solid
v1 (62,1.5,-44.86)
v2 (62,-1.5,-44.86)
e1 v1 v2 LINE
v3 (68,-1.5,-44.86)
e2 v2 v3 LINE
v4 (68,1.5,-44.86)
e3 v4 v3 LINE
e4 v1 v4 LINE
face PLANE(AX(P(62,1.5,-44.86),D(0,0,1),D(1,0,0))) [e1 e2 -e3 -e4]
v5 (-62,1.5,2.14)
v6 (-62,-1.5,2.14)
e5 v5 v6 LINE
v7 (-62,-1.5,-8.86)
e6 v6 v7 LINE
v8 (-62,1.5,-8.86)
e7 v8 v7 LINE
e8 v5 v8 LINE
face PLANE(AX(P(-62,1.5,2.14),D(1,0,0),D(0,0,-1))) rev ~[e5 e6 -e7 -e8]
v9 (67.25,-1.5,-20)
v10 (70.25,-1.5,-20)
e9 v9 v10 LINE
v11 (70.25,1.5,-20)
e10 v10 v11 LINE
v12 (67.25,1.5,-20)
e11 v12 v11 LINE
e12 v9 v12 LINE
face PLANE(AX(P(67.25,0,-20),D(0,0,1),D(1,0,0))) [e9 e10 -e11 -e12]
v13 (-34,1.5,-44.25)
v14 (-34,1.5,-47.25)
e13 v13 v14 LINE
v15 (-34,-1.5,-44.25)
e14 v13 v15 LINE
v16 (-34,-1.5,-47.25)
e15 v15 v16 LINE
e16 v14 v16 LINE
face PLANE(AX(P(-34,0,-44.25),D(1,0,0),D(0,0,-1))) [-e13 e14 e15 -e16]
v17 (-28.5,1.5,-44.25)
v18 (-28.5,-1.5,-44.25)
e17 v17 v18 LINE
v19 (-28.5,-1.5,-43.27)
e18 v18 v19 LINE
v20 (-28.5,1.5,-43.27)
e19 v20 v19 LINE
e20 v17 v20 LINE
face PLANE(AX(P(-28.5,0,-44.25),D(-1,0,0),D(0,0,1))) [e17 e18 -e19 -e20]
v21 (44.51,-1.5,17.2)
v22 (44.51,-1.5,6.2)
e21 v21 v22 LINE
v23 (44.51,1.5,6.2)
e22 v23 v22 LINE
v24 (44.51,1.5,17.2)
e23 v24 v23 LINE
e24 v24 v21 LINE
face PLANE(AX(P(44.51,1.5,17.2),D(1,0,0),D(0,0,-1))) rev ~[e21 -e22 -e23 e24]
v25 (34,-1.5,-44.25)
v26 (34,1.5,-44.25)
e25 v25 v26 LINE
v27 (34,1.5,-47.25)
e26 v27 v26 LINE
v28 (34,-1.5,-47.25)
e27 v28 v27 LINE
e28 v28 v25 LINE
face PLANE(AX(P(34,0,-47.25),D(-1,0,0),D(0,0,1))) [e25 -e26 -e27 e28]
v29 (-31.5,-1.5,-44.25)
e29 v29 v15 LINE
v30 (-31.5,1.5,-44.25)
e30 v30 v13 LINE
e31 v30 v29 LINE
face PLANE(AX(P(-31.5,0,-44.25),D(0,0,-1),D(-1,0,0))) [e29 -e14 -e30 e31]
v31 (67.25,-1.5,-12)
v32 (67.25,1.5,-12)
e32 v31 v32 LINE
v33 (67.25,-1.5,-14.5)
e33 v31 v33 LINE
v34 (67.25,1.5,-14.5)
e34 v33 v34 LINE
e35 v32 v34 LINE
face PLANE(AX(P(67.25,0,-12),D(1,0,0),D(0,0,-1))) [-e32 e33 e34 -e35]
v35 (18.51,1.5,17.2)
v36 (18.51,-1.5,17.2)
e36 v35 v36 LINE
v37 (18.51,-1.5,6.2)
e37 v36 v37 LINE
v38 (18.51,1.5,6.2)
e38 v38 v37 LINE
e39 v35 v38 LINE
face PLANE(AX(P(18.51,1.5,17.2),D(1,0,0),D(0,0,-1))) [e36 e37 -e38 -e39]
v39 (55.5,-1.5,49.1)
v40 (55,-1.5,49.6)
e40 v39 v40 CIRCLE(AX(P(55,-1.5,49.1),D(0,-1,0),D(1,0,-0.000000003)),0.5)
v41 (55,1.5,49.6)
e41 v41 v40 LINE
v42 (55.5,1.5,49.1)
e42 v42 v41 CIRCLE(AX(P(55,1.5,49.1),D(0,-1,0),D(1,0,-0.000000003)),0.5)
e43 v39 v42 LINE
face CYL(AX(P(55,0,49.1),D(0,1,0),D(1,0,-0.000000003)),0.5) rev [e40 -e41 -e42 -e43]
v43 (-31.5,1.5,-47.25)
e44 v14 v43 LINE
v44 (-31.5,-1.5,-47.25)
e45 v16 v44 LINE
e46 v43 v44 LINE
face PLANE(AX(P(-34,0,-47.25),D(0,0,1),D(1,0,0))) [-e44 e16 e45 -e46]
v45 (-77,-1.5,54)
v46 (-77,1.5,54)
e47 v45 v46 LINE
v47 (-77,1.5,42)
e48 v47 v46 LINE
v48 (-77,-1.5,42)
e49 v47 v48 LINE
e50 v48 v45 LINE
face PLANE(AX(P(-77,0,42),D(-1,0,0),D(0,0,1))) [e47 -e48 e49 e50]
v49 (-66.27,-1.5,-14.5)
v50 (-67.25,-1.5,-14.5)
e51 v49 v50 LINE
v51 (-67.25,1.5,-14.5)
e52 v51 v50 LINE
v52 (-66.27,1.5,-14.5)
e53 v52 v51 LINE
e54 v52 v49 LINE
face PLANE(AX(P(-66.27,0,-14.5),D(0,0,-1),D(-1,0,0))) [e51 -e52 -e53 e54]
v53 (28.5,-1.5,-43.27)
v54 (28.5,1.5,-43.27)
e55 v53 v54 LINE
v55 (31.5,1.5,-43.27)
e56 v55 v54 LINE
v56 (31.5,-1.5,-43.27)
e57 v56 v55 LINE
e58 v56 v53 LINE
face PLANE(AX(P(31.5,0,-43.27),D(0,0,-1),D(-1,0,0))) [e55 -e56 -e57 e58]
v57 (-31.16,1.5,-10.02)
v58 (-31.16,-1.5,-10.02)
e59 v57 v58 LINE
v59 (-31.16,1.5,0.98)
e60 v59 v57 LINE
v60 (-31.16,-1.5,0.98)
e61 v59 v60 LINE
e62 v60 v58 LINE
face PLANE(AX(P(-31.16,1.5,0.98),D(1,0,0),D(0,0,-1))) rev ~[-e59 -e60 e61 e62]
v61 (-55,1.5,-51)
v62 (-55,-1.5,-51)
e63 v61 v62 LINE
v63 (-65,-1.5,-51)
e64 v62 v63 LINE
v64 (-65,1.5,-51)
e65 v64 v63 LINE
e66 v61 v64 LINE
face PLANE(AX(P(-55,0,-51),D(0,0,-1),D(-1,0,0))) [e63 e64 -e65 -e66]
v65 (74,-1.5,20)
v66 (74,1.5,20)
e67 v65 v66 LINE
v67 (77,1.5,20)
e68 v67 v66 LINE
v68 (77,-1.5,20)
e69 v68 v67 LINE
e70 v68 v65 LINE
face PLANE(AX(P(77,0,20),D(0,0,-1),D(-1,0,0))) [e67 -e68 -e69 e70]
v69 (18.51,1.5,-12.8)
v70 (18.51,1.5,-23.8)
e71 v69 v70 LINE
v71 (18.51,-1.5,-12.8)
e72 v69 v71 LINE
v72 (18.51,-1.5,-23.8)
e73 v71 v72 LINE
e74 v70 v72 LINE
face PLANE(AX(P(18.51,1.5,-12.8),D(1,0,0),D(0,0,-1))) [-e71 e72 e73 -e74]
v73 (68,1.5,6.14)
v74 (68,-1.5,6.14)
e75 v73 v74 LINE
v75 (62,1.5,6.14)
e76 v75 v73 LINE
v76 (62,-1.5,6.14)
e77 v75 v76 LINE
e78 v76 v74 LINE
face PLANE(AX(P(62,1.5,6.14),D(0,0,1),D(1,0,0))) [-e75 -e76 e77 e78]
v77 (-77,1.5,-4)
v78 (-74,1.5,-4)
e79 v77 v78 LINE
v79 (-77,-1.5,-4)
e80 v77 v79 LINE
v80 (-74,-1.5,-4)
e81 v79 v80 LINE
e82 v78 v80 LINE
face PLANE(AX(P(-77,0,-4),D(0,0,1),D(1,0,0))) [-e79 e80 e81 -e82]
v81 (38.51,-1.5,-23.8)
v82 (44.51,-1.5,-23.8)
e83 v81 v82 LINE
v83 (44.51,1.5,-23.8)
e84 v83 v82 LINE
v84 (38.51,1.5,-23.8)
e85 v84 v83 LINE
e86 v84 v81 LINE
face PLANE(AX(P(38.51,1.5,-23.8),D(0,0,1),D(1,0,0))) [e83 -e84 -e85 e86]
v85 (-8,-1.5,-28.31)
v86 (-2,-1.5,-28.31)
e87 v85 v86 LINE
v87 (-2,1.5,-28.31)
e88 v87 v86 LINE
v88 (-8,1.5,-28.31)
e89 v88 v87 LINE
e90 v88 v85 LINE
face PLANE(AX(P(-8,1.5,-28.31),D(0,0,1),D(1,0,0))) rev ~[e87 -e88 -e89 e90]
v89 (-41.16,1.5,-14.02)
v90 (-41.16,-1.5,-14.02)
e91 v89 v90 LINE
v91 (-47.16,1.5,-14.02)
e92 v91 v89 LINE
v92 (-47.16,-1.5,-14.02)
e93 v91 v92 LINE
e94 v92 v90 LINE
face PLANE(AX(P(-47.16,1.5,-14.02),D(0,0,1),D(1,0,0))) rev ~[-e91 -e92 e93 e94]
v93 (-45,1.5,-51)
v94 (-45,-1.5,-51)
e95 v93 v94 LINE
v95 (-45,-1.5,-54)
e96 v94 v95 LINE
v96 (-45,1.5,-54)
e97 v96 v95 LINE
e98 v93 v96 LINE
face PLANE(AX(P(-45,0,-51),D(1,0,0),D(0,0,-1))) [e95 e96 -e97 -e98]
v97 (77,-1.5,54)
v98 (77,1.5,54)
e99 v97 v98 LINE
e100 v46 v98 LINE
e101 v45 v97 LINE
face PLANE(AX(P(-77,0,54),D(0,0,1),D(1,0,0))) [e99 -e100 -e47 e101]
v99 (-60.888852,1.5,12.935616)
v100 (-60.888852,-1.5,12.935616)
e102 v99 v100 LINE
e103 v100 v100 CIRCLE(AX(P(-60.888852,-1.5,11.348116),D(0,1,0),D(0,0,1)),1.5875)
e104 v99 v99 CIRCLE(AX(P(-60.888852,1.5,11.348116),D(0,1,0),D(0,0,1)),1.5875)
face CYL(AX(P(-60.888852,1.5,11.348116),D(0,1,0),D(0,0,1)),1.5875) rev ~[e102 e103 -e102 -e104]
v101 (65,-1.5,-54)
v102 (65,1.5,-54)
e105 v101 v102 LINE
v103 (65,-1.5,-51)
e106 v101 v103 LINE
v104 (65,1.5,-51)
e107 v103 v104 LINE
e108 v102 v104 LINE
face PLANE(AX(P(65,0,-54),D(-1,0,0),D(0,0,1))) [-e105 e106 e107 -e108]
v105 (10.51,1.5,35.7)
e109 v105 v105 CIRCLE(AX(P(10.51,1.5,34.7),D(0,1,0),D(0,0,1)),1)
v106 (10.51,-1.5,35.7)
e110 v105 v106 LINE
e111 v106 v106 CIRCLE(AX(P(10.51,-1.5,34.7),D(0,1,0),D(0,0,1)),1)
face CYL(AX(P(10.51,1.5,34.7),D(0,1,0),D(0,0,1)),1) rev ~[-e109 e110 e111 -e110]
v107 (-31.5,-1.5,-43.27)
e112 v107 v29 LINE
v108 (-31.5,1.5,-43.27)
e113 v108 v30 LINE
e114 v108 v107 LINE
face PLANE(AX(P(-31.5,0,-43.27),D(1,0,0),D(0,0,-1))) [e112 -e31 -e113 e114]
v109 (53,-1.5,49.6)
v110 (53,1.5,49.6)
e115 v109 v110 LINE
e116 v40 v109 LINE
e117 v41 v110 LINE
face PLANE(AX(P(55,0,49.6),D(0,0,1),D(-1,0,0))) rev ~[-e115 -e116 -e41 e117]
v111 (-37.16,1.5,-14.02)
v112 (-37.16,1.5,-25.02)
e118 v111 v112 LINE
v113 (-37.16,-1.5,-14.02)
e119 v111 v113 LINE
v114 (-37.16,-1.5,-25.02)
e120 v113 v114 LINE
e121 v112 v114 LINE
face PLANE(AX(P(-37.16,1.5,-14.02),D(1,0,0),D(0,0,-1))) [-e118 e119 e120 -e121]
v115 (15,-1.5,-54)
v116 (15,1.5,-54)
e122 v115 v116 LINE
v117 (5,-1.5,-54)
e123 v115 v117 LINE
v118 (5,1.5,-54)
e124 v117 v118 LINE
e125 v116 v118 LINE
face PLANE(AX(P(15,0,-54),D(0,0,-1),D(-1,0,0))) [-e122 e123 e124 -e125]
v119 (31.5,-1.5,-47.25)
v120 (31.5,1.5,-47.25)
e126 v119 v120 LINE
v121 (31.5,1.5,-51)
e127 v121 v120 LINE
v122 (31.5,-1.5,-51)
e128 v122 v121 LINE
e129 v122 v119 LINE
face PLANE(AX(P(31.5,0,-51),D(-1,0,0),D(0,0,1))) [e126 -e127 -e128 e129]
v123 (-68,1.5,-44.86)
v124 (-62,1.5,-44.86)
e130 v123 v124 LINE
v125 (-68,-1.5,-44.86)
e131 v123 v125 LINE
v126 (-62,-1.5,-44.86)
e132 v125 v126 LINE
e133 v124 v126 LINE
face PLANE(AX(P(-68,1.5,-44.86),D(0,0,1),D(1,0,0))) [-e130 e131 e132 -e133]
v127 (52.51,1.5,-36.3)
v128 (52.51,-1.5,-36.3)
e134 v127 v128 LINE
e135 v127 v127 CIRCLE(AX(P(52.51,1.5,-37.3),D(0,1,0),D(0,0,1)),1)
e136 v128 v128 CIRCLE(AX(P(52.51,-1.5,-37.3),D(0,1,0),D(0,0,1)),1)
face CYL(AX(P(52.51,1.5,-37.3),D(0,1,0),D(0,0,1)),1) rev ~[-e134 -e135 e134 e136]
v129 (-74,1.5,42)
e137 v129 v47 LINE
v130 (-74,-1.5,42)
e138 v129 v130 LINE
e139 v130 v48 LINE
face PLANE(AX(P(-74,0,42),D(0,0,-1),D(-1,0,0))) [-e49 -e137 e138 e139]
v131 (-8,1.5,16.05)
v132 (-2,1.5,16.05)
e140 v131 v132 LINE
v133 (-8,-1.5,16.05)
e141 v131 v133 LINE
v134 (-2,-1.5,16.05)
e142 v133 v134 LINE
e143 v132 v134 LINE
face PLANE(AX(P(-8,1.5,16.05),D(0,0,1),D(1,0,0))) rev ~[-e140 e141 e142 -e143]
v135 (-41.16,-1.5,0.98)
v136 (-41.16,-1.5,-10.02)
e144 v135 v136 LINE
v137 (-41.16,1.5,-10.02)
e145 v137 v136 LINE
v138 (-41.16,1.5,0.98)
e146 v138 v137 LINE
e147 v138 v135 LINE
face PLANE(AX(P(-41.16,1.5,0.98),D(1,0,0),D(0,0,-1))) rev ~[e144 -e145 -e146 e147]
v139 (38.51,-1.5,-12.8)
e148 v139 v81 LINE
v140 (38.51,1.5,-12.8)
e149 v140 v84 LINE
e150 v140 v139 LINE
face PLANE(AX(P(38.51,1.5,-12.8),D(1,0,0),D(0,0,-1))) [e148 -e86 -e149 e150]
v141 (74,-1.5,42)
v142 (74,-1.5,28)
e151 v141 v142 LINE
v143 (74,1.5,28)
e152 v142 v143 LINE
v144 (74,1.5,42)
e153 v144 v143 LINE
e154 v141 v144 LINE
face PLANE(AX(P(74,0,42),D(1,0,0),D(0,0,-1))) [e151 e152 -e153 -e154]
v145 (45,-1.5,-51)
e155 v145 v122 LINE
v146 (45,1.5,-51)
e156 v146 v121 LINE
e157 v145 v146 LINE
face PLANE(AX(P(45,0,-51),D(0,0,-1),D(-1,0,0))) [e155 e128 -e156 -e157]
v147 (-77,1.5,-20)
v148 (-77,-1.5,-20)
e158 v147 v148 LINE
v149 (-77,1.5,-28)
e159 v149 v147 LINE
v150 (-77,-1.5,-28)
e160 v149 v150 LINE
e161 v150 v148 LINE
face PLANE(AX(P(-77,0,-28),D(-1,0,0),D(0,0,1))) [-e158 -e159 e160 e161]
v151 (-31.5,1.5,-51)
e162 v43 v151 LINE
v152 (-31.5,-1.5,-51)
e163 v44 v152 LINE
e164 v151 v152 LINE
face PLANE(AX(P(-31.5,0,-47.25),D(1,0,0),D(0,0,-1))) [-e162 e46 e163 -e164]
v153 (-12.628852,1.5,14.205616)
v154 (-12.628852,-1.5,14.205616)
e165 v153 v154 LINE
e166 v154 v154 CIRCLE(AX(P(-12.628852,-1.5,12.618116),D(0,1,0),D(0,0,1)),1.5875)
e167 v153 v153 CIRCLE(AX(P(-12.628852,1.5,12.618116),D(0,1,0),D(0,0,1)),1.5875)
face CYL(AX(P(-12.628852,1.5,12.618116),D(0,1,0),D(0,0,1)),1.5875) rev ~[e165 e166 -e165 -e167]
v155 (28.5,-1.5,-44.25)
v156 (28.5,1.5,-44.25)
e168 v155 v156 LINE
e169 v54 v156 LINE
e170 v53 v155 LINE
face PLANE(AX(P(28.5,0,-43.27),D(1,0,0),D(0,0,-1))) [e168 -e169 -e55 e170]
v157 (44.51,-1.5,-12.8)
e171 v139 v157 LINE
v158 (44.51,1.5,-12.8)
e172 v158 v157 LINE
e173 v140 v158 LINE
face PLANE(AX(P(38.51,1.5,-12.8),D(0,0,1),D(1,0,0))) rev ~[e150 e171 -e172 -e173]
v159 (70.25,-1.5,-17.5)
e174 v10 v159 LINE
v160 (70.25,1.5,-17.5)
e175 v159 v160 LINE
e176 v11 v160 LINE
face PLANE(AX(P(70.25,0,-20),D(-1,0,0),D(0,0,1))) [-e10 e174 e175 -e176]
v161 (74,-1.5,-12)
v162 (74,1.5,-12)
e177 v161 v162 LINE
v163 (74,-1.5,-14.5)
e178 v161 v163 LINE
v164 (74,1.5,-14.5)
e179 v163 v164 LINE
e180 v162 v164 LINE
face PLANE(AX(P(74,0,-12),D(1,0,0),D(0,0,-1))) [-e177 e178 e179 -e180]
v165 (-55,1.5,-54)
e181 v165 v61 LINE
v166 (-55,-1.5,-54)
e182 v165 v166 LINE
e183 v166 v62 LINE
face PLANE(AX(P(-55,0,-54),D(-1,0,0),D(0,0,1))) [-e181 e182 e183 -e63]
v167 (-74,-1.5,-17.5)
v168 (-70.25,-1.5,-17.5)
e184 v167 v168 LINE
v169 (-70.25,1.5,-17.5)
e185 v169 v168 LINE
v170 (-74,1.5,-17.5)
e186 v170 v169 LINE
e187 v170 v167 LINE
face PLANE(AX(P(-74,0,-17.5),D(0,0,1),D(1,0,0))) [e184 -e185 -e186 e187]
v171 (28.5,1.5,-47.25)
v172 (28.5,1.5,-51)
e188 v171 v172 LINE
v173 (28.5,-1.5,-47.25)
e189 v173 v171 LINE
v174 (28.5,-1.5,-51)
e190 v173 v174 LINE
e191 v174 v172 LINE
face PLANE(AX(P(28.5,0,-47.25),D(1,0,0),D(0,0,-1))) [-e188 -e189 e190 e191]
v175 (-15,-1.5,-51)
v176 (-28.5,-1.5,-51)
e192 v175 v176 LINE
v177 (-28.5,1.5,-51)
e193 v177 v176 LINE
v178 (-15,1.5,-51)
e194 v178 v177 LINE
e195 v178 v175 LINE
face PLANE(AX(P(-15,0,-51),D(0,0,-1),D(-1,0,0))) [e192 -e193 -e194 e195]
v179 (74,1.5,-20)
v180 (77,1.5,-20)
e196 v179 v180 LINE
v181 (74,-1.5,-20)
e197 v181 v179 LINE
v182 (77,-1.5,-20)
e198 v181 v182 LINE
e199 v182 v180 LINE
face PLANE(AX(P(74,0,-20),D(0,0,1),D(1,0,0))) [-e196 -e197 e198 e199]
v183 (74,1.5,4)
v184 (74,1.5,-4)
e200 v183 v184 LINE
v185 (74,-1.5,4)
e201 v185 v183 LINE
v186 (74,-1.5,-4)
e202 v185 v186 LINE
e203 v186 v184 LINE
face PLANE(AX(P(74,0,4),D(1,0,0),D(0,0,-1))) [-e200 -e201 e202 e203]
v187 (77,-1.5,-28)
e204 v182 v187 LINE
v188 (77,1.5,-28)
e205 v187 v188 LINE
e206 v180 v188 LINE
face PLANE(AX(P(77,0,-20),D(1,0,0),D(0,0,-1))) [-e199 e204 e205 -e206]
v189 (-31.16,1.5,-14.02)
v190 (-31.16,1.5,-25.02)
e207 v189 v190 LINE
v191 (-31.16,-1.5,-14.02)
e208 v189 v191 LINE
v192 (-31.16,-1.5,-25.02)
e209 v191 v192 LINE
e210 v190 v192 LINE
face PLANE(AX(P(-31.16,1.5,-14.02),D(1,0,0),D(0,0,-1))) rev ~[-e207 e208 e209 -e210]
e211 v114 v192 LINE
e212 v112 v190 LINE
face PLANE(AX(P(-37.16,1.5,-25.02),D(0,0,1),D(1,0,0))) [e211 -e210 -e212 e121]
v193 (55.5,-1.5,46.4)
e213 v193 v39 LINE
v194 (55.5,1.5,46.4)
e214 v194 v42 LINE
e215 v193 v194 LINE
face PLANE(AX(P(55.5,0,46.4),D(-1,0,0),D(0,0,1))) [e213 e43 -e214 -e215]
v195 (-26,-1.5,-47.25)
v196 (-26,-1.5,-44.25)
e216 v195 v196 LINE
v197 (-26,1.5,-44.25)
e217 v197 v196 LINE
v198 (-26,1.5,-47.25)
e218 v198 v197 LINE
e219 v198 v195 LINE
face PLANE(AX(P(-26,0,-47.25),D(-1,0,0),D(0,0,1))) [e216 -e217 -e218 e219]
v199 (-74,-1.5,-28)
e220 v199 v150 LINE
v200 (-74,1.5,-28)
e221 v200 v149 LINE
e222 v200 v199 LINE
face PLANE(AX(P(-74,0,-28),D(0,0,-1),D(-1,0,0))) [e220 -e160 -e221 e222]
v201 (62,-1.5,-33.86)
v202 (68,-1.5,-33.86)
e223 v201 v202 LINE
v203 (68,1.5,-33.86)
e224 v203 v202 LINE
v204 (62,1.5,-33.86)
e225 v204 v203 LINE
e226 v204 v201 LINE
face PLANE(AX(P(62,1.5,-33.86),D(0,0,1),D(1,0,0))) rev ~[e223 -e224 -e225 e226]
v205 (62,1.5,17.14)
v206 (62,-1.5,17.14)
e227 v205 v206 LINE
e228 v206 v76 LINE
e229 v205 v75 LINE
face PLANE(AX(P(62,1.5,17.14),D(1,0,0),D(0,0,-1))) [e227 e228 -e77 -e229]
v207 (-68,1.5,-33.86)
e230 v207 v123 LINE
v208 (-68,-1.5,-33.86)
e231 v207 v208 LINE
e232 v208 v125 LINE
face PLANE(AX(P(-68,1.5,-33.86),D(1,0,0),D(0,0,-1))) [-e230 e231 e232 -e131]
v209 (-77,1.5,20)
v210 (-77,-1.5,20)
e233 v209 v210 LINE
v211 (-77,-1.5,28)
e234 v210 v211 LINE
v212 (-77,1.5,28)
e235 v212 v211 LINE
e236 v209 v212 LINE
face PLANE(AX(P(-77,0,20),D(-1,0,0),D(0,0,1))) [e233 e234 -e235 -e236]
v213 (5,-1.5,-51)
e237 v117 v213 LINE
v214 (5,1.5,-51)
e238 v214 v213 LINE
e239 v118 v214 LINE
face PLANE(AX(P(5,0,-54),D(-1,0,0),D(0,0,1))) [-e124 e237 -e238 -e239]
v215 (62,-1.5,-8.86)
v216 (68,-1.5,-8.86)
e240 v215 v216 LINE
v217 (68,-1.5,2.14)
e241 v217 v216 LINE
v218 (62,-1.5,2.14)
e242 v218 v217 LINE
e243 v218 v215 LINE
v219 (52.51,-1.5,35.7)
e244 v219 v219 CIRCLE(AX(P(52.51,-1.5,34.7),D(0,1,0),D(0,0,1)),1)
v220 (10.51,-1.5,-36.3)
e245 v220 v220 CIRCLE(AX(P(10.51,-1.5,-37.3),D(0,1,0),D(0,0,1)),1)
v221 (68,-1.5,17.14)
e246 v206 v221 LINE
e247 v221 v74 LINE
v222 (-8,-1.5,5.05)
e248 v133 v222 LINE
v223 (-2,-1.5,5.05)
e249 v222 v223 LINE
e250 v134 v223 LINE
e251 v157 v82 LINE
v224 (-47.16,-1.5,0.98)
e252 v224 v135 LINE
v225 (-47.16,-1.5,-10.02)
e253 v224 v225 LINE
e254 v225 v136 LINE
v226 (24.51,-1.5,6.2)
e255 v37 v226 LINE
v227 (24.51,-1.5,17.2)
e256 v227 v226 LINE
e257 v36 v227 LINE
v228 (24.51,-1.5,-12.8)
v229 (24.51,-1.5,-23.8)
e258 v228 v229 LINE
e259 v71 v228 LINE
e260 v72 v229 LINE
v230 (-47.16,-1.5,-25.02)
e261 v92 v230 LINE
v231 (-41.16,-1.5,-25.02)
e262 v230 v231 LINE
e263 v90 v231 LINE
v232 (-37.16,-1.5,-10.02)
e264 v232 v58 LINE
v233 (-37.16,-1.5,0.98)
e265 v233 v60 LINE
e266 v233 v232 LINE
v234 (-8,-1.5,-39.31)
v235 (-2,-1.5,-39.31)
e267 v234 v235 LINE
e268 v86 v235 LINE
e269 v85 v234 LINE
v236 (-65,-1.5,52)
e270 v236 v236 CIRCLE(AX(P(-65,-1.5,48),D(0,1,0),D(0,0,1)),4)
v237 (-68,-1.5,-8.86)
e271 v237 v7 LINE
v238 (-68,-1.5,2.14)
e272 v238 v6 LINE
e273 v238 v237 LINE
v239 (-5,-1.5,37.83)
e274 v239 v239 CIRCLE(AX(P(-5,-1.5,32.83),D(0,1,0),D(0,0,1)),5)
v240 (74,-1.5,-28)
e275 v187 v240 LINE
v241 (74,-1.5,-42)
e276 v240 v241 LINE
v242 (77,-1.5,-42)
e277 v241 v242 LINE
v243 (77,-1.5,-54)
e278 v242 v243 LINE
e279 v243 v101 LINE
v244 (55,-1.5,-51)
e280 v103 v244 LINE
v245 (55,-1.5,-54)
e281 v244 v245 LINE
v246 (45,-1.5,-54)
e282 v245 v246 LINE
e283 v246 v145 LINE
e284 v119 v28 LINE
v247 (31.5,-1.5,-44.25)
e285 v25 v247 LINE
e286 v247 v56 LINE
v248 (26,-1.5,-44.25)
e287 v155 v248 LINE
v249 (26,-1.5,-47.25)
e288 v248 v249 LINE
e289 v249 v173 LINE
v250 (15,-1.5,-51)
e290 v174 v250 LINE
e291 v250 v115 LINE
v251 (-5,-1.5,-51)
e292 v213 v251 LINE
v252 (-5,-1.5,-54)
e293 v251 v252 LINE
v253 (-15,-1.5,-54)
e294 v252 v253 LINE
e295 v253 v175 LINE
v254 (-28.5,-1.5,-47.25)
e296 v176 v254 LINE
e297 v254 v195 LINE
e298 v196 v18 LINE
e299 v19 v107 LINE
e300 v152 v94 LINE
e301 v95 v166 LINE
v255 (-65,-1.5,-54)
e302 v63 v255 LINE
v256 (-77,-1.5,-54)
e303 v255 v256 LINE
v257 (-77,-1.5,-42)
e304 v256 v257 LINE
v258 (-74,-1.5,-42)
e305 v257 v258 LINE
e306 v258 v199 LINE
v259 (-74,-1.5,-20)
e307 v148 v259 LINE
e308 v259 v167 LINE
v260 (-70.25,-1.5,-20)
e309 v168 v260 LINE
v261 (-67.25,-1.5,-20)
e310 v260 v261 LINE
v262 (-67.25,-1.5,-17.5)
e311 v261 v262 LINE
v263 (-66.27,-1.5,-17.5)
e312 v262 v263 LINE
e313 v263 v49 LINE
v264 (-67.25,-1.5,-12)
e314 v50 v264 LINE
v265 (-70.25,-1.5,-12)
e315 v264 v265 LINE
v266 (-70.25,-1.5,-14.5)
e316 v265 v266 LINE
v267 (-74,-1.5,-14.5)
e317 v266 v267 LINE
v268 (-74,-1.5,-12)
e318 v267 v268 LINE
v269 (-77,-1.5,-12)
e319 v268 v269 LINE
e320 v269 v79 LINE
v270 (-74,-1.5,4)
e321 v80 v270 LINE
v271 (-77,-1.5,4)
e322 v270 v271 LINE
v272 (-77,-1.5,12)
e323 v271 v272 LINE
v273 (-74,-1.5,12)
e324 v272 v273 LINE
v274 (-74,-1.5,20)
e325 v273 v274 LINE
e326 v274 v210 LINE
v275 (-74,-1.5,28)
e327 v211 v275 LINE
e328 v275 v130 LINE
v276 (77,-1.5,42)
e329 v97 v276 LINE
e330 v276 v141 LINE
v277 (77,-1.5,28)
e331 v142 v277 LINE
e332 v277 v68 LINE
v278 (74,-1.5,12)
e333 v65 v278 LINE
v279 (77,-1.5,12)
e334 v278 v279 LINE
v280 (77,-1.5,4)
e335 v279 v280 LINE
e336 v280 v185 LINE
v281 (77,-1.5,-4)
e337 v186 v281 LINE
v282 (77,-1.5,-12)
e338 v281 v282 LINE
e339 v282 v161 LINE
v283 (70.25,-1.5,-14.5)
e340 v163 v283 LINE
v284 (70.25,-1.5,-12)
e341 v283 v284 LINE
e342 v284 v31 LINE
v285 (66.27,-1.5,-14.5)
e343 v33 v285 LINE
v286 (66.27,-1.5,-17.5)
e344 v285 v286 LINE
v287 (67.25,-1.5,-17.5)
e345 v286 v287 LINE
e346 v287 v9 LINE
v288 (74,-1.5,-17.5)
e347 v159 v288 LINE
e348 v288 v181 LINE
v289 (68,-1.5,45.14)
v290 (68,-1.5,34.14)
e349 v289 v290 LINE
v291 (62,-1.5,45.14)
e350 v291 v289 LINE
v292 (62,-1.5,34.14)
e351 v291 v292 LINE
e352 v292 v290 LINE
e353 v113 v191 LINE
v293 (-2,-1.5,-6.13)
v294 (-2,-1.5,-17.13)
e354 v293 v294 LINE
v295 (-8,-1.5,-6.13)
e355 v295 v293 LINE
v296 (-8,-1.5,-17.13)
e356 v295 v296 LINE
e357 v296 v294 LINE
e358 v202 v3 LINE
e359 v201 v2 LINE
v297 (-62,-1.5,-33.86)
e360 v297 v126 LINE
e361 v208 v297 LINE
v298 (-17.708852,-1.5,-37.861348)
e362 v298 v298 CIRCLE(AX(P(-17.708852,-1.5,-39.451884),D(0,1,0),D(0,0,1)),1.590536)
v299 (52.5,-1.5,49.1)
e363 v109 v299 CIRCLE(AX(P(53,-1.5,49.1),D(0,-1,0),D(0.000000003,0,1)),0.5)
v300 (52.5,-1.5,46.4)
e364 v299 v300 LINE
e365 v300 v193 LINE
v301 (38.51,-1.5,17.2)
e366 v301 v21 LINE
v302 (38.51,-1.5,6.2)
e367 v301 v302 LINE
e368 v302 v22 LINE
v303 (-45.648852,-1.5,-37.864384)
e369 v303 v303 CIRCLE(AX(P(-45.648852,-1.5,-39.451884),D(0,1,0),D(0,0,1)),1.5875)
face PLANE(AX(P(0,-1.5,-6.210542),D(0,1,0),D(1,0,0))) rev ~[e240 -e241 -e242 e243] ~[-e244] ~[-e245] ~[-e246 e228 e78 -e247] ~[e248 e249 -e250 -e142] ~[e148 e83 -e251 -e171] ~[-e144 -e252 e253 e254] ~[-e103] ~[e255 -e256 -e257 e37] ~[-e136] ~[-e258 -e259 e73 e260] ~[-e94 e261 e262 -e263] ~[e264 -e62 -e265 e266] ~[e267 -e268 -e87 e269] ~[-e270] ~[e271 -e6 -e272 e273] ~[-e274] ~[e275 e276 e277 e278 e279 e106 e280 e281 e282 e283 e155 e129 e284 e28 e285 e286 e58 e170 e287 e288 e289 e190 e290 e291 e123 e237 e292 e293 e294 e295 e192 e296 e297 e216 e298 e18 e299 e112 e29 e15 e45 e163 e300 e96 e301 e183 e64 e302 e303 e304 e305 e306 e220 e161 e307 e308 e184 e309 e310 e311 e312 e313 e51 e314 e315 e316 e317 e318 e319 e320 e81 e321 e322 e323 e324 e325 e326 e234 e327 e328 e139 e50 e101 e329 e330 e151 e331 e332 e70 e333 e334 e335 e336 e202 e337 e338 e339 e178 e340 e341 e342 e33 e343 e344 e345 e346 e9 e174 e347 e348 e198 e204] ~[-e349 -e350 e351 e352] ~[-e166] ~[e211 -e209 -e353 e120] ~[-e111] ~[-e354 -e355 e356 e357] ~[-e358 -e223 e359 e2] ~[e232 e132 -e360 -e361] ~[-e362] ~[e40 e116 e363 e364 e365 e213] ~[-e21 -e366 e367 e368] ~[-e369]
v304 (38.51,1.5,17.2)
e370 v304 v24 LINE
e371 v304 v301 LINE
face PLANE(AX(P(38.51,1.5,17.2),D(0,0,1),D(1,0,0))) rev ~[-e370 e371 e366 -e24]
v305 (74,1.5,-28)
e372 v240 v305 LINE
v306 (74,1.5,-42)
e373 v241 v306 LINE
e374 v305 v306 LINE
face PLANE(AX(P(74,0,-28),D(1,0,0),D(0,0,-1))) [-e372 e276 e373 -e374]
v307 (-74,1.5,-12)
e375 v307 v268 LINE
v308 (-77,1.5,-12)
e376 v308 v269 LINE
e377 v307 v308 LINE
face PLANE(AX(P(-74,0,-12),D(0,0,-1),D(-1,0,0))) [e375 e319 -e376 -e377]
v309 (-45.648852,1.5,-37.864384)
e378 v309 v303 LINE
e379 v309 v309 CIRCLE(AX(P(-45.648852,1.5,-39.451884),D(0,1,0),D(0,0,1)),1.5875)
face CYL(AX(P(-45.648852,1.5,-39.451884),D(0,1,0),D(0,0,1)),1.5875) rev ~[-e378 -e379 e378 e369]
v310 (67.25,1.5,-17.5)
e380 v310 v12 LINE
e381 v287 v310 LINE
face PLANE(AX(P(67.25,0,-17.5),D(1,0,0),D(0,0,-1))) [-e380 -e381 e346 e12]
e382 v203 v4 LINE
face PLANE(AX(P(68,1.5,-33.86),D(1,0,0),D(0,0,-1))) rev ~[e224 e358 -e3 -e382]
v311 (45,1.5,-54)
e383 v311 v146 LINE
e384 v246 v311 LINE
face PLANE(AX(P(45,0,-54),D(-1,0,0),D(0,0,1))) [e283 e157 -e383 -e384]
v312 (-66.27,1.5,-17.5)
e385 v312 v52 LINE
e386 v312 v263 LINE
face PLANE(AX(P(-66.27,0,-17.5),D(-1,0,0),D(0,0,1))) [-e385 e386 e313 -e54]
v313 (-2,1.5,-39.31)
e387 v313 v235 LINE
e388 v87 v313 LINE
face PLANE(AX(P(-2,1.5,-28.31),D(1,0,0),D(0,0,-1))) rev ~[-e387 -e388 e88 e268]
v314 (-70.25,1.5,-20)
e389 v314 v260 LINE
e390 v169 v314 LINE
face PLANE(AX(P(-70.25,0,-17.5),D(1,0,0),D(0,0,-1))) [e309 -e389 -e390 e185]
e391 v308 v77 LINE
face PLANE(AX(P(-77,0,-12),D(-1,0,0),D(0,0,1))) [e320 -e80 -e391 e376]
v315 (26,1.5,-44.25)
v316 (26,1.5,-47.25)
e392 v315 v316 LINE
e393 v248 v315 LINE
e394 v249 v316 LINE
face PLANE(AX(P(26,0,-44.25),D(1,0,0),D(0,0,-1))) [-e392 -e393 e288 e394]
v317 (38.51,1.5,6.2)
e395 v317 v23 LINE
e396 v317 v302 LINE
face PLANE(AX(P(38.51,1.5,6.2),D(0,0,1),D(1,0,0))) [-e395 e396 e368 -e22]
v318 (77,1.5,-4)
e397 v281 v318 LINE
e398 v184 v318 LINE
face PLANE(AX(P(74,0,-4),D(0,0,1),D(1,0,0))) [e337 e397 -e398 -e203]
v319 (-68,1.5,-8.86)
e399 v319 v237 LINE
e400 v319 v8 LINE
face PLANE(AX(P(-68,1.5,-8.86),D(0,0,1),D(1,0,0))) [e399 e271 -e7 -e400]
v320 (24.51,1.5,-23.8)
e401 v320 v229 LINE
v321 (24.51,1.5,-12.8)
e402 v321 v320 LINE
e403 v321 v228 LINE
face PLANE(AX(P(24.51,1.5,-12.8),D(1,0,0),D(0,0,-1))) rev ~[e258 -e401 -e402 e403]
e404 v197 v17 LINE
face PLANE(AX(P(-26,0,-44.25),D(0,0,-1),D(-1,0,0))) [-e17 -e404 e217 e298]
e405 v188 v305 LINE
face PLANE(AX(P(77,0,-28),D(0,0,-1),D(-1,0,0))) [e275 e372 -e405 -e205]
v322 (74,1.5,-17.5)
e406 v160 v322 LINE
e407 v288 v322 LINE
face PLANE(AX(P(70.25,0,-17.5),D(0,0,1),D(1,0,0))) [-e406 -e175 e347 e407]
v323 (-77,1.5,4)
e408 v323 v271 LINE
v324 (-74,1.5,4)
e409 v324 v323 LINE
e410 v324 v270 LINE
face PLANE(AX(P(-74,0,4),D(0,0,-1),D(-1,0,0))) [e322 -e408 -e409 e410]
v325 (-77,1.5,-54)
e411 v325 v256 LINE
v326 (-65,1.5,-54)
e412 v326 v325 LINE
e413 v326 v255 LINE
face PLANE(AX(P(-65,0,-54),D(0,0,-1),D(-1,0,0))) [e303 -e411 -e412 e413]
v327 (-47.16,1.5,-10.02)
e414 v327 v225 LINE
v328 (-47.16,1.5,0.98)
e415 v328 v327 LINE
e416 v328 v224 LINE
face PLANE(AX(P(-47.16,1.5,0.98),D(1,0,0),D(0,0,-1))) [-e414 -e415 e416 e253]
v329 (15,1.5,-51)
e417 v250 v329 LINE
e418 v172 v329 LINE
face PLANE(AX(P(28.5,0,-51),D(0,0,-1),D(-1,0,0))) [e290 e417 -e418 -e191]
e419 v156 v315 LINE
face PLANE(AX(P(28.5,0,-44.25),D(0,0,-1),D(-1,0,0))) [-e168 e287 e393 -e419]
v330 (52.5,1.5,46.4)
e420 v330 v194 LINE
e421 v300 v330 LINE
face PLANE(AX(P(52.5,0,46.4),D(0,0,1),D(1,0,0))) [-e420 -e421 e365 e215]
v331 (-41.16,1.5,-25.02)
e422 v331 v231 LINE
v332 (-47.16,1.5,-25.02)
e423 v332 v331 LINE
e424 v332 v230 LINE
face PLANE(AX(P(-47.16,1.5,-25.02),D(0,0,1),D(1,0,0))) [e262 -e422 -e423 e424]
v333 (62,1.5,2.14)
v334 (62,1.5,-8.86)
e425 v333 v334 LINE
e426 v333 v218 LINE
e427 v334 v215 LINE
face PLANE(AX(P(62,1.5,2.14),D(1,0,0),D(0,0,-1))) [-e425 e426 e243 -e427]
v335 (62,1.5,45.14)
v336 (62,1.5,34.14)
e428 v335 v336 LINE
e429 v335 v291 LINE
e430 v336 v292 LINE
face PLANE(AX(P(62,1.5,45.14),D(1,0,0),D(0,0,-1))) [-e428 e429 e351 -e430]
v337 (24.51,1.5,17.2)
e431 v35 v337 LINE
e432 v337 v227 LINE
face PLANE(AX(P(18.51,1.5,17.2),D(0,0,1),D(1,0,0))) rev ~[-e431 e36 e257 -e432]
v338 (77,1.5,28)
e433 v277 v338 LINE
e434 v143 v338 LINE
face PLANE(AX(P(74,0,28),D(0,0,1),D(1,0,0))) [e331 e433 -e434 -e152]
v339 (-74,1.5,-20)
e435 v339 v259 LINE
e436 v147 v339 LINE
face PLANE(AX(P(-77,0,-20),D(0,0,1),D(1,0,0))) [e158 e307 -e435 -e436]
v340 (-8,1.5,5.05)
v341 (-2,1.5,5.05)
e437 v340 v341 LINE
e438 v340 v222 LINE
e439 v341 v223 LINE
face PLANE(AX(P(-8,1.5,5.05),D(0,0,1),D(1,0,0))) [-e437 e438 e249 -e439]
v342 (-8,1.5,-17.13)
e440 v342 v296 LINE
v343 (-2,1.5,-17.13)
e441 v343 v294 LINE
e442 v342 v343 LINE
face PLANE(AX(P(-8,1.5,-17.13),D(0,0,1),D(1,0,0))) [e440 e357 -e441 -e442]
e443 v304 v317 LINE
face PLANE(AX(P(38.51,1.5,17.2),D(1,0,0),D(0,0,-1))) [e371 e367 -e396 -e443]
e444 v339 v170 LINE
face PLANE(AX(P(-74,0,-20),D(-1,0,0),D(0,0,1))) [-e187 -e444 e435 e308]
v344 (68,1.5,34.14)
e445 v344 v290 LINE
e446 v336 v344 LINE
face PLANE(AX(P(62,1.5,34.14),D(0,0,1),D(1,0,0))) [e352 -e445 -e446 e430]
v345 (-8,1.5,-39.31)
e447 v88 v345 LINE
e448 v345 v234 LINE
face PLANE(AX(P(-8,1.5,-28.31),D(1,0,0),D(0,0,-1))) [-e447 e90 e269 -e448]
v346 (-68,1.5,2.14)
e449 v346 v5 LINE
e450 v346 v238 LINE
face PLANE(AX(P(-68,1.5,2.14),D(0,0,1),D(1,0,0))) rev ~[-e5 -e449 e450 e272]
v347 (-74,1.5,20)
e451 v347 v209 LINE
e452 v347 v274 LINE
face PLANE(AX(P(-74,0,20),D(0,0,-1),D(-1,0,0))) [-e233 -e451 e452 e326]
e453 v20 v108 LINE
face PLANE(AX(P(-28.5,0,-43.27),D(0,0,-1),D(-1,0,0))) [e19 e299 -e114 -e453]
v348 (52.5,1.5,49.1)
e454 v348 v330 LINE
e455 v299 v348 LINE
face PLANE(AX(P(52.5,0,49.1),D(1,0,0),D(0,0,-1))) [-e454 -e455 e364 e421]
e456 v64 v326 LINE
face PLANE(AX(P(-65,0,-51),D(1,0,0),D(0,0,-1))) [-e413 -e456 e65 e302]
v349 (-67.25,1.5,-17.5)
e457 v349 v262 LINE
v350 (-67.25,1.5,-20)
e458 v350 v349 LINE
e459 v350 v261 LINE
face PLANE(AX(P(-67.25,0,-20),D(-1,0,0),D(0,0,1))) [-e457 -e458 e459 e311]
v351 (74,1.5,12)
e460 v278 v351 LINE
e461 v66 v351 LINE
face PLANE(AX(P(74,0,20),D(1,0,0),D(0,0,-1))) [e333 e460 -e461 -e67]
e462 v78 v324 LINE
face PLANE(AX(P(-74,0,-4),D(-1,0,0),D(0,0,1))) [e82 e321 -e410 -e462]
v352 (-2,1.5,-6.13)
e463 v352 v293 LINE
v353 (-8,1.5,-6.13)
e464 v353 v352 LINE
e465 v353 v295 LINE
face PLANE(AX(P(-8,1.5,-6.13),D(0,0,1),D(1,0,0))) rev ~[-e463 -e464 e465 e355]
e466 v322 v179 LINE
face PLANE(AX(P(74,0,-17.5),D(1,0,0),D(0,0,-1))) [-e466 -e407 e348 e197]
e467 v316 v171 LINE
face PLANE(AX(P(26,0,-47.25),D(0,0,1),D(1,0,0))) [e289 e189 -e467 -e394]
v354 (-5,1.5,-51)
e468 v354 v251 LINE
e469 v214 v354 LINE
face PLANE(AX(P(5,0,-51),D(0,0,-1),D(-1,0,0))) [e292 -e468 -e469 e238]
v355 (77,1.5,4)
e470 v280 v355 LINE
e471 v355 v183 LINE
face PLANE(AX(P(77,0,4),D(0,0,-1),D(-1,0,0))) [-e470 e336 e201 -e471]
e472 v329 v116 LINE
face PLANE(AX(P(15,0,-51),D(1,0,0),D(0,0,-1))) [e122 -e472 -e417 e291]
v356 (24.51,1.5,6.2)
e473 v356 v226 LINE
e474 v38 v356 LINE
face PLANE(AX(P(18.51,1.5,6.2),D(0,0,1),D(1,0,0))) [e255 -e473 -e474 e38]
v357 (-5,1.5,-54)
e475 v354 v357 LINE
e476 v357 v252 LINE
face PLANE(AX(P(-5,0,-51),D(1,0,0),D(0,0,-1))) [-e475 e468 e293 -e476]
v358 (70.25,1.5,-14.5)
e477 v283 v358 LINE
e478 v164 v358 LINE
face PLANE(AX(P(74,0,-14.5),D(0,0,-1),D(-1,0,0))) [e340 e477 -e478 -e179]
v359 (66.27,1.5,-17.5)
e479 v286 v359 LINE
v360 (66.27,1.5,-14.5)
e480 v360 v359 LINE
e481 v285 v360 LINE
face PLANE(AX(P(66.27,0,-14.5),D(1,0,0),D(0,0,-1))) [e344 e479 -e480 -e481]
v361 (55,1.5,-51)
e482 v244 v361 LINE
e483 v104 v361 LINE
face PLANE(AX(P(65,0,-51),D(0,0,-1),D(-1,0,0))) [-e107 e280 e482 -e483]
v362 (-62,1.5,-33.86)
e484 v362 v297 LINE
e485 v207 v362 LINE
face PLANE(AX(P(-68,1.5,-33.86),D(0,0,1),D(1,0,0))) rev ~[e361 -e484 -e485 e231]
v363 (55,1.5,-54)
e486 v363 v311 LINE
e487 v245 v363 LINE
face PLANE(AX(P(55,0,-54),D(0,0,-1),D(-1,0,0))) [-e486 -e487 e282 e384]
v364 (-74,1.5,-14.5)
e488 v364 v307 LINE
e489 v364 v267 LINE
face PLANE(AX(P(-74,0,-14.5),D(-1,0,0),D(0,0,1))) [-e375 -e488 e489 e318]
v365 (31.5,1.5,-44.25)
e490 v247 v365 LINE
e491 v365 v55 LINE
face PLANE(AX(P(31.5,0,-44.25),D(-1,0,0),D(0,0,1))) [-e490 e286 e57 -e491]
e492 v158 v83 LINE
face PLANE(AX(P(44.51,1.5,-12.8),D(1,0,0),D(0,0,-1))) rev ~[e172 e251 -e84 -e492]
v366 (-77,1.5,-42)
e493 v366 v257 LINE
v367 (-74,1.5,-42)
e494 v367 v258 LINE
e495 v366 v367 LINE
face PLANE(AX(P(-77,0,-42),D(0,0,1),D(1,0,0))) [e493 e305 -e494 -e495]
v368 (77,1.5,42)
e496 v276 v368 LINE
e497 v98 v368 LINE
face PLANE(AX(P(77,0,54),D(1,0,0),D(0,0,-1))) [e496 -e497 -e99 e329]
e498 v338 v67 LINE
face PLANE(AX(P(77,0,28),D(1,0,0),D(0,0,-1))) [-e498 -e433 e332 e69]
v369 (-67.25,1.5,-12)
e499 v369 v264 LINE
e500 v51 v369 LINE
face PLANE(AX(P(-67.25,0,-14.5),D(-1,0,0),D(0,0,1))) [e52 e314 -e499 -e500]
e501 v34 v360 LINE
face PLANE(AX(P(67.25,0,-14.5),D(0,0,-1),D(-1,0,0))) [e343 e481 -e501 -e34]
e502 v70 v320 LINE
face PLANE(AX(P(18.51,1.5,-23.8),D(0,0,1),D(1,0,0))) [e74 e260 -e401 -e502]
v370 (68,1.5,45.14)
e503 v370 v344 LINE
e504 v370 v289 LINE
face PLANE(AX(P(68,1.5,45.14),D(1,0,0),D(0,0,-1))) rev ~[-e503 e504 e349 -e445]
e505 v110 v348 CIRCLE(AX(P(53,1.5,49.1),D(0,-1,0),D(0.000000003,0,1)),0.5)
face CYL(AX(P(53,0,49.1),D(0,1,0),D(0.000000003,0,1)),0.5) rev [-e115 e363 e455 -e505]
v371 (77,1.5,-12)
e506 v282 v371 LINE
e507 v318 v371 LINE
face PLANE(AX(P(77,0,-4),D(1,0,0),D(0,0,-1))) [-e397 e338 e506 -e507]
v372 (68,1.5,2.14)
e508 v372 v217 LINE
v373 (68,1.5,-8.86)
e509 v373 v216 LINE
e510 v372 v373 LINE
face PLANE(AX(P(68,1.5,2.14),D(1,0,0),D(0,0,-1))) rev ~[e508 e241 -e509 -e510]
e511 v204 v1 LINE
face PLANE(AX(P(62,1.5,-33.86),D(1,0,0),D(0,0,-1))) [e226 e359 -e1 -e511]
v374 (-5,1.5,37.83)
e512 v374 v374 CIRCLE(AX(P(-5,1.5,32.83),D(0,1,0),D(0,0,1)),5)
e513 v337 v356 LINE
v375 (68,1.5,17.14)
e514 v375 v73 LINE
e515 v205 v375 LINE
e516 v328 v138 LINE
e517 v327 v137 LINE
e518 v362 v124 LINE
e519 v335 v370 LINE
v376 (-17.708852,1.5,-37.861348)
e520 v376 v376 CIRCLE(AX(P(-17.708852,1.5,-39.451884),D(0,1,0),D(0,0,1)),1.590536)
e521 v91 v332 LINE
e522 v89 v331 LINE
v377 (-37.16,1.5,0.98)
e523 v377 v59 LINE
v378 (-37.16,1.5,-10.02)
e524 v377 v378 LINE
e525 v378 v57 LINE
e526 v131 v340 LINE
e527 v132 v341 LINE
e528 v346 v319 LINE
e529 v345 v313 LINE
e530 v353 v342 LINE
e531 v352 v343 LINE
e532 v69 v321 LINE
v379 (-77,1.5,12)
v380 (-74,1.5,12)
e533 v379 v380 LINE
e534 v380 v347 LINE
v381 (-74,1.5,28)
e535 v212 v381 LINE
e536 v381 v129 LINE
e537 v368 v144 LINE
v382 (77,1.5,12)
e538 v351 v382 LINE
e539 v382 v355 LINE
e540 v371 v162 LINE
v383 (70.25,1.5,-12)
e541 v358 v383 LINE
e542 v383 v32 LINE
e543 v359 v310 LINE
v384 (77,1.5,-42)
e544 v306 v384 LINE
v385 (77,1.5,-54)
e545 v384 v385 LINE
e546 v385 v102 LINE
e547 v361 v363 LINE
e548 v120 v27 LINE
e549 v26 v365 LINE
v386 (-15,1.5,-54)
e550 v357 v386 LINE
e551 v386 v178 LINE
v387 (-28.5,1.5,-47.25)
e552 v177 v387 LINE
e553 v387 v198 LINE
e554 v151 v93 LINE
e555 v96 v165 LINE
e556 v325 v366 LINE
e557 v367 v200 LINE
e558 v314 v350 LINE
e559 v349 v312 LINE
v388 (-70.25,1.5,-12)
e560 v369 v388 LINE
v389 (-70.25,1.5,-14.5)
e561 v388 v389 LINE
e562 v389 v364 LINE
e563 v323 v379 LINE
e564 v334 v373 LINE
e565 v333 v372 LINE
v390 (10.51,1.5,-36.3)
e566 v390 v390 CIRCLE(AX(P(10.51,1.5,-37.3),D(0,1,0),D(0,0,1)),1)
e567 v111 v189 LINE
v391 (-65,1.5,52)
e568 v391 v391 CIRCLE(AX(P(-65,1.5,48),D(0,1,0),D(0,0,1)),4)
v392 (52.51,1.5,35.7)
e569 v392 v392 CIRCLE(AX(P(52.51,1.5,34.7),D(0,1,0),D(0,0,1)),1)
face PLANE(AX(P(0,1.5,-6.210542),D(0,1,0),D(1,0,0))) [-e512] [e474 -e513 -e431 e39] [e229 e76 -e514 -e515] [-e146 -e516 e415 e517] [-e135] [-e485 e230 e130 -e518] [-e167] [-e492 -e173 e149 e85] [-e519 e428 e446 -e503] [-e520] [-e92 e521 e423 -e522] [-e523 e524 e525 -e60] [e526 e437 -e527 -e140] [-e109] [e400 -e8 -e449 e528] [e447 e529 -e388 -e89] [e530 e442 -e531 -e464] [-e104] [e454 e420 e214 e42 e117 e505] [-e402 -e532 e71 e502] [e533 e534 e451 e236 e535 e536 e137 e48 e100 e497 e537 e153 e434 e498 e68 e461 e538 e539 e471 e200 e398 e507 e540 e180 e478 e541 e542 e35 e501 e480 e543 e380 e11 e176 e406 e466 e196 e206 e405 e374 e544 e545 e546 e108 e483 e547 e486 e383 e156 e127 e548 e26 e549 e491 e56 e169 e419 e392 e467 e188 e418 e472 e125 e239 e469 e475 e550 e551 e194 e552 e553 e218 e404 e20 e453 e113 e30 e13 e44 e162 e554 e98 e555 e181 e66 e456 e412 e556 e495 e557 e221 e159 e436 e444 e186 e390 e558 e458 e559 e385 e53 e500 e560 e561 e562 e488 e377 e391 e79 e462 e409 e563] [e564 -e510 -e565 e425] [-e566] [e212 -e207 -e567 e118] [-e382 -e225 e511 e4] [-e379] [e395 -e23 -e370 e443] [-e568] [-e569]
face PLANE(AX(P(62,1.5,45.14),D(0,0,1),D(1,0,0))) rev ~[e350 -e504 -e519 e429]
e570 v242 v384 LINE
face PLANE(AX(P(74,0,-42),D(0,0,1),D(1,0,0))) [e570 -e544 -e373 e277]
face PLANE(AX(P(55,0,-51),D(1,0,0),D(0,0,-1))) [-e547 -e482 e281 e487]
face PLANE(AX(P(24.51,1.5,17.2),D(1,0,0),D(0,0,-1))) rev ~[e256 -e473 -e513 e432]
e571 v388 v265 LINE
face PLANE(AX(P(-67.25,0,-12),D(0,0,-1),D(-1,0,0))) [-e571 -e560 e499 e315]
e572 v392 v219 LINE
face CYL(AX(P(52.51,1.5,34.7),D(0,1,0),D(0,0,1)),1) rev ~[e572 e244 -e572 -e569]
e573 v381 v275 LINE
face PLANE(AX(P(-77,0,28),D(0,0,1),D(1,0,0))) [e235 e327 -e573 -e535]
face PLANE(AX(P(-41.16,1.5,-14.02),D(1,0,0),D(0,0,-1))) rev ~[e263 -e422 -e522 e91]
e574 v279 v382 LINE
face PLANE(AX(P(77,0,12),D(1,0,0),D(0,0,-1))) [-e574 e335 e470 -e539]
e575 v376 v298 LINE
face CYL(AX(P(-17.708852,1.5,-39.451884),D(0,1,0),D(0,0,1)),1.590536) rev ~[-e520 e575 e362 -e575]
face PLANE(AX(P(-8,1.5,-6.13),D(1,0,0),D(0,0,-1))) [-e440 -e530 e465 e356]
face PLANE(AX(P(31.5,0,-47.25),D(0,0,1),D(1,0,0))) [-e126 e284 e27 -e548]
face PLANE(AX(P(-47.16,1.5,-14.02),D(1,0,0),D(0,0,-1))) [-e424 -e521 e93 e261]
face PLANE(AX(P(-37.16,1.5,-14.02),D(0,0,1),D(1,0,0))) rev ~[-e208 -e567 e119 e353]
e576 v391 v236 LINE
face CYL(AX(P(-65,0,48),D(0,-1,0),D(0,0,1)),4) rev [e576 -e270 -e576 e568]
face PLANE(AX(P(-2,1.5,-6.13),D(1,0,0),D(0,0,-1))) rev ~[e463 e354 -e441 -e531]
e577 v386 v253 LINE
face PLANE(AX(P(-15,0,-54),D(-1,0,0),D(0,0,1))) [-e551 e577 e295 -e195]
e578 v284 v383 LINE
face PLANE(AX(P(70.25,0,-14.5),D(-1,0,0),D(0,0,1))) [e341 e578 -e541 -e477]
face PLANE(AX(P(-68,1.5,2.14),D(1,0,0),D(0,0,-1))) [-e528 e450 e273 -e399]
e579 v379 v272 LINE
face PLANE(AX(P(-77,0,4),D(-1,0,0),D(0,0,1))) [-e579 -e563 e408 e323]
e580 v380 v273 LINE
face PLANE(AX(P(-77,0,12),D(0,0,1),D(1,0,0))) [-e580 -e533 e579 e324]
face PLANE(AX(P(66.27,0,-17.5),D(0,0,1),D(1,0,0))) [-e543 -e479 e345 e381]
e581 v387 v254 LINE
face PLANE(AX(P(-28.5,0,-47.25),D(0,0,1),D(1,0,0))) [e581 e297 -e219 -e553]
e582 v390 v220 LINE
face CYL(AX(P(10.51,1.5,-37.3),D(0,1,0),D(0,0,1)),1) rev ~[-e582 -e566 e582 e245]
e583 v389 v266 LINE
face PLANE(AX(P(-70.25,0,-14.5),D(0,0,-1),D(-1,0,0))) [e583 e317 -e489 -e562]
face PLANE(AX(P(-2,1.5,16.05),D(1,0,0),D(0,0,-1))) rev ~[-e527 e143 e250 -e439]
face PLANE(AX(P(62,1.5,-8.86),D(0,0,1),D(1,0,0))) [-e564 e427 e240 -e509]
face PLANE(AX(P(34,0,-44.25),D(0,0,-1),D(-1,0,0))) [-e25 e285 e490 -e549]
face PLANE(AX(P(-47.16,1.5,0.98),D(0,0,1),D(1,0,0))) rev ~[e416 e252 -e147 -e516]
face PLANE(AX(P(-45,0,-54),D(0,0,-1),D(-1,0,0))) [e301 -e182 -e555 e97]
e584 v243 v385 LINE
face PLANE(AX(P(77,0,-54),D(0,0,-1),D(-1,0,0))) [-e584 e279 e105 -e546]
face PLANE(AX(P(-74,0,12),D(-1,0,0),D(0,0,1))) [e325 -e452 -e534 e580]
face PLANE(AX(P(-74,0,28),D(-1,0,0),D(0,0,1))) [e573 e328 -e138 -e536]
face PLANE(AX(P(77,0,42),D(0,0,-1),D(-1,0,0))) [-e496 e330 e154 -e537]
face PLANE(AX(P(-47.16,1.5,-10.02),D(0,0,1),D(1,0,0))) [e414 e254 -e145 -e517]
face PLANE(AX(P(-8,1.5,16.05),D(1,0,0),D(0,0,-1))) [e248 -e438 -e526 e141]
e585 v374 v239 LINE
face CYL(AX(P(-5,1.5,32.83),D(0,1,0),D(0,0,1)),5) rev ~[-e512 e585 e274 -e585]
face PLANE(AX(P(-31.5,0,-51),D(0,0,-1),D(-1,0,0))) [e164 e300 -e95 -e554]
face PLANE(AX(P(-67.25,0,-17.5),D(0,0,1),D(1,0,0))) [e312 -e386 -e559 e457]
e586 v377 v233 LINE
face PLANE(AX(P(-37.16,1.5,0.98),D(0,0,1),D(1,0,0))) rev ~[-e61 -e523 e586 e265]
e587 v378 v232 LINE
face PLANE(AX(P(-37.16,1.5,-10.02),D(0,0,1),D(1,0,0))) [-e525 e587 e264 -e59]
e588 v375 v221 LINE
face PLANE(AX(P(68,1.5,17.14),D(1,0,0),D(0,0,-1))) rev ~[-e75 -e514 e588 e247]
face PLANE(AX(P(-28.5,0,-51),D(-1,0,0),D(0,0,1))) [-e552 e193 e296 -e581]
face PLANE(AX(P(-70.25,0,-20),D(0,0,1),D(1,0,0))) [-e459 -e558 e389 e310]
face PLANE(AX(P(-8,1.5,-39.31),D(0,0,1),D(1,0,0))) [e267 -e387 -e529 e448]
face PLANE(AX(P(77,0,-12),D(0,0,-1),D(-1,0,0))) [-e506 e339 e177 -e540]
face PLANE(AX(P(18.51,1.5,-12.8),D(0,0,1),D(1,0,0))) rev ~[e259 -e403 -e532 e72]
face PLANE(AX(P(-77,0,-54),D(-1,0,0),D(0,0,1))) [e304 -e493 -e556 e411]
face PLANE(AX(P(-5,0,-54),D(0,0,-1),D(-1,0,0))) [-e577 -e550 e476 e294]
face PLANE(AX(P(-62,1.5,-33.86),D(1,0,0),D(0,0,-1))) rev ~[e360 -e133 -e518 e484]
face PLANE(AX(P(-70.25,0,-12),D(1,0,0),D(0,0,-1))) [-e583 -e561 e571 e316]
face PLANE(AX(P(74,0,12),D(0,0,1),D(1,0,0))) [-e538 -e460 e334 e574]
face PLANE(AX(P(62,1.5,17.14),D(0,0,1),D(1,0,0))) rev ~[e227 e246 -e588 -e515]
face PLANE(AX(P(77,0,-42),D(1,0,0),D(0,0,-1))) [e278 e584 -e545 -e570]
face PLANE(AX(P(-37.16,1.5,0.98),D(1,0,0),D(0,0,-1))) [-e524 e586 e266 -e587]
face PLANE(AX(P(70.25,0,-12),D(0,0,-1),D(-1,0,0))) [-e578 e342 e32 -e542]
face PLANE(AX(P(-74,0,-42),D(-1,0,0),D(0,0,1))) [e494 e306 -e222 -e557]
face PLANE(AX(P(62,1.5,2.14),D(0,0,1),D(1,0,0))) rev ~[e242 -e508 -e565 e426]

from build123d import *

# Parameters (mm, degrees)
CROQUIS1_R              = 4
SALIENTE_EXTRUIR1_DEPTH = 1.5
CROQUIS2_R              = 5
CROQUIS2_R_2            = 1
CROQUIS2_W              = 6
CROQUIS2_H              = 11
CORTAR_EXTRUIR1_DEPTH   = 3
CROQUIS3_R              = 1.5875
CROQUIS3_R_2            = 1.590536349
CORTAR_EXTRUIR2_DEPTH   = 23


with BuildPart() as part:
    # Croquis1 → Saliente-Extruir1 (new, symmetric)
    with BuildSketch(Plane(origin=(0, 0, 0), x_dir=(1, 0, 0), z_dir=(0, 1, 0))):
        Polygon((-77, -42), (-77, -54), (77, -54), (77, -42), (74, -42), (74, -28), (77, -28), (77, -20), (74, -20), (74, -12), (77, -12), (77, -4), (74, -4), (74, -1.5), (74, 1.5), (74, 4), (77, 4), (77, 12), (74, 12), (74, 14.5), (70.25, 14.5), (70.25, 12), (67.25, 12), (67.25, 14.5), (66.27, 14.5), (66.27, 17.5), (67.25, 17.5), (67.25, 20), (70.25, 20), (70.25, 17.5), (74, 17.5), (74, 20), (77, 20), (77, 28), (74, 28), (74, 42), (77, 42), (77, 54), (65, 54), (65, 51), (55, 51), (55, 54), (45, 54), (45, 51), (31.5, 51), (31.5, 47.25), (34, 47.25), (34, 44.25), (31.5, 44.25), (31.5, 43.27), (28.5, 43.27), (28.5, 44.25), (26, 44.25), (26, 47.25), (28.5, 47.25), (28.5, 51), (15, 51), (15, 54), (5, 54), (5, 51), (-5, 51), (-5, 54), (-15, 54), (-15, 51), (-28.5, 51), (-28.5, 47.25), (-26, 47.25), (-26, 44.25), (-28.5, 44.25), (-28.5, 43.27), (-31.5, 43.27), (-31.5, 44.25), (-34, 44.25), (-34, 47.25), (-31.5, 47.25), (-31.5, 51), (-45, 51), (-45, 54), (-55, 54), (-55, 51), (-65, 51), (-65, 54), (-77, 54), (-77, 42), (-74, 42), (-74, 28), (-77, 28), (-77, 20), (-74, 20), (-74, 17.5), (-70.25, 17.5), (-70.25, 20), (-67.25, 20), (-67.25, 17.5), (-66.27, 17.5), (-66.27, 14.5), (-67.25, 14.5), (-67.25, 12), (-70.25, 12), (-70.25, 14.5), (-74, 14.5), (-74, 12), (-77, 12), (-77, 4), (-74, 4), (-74, 1.5), (-74, -1.5), (-74, -4), (-77, -4), (-77, -12), (-74, -12), (-74, -20), (-77, -20), (-77, -28), (-74, -28), (-74, -42), align=None)
        with Locations(Location((-65, -48, 0), (0, 0, 270))):
            Circle(CROQUIS1_R, mode=Mode.SUBTRACT)
        with BuildLine():
            Line((55, -49.6), (53, -49.6))
            ThreePointArc((53, -49.6), (52.646446609, -49.453553391), (52.5, -49.1))
            Line((52.5, -49.1), (52.5, -46.4))
            Line((52.5, -46.4), (55.5, -46.4))
            Line((55.5, -46.4), (55.5, -49.1))
            ThreePointArc((55.5, -49.1), (55.353553391, -49.453553391), (55, -49.6))
        make_face(mode=Mode.SUBTRACT)
    extrude(amount=SALIENTE_EXTRUIR1_DEPTH, both=True)

    # Croquis2 → Cortar-Extruir1 (cut)
    with BuildSketch(Plane(origin=(0, 1.5, 0), x_dir=(1, 0, 0), z_dir=(0, 1, 0))):
        with Locations(Location((-5, -32.83, 0), (0, 0, 270))):
            Circle(CROQUIS2_R)
        with Locations(Location((10.51, 37.3, 0), (0, 0, 270))):
            Circle(CROQUIS2_R_2)
        with Locations(Location((52.51, 37.3, 0), (0, 0, 270))):
            Circle(CROQUIS2_R_2)
        with Locations(Location((52.51, -34.7, 0), (0, 0, 270))):
            Circle(CROQUIS2_R_2)
        with Locations(Location((10.51, -34.7, 0), (0, 0, 270))):
            Circle(CROQUIS2_R_2)
        with Locations((-34.16, 4.52)):
            Rectangle(CROQUIS2_W, CROQUIS2_H)
        with Locations((-5, 33.81)):
            Rectangle(CROQUIS2_W, CROQUIS2_H)
        with Locations((-44.16, 4.52)):
            Rectangle(CROQUIS2_W, CROQUIS2_H)
        with Locations((-44.16, 19.52)):
            Rectangle(CROQUIS2_W, CROQUIS2_H)
        with Locations((-34.16, 19.52)):
            Rectangle(CROQUIS2_W, CROQUIS2_H)
        with Locations((-5, 11.63)):
            Rectangle(CROQUIS2_W, CROQUIS2_H)
        with Locations((-5, -10.55)):
            Rectangle(CROQUIS2_W, CROQUIS2_H)
        with Locations((21.51, 18.3)):
            Rectangle(CROQUIS2_W, CROQUIS2_H)
        with Locations((41.51, 18.3)):
            Rectangle(CROQUIS2_W, CROQUIS2_H)
        with Locations((41.51, -11.7)):
            Rectangle(CROQUIS2_W, CROQUIS2_H)
        with Locations((21.51, -11.7)):
            Rectangle(CROQUIS2_W, CROQUIS2_H)
        with Locations((65, 39.36)):
            Rectangle(CROQUIS2_W, CROQUIS2_H)
        with Locations((65, -11.64)):
            Rectangle(CROQUIS2_W, CROQUIS2_H)
        with Locations((65, -39.64)):
            Rectangle(CROQUIS2_W, CROQUIS2_H)
        with Locations((65, 3.36)):
            Rectangle(CROQUIS2_W, CROQUIS2_H)
        with Locations((-65, 3.36)):
            Rectangle(CROQUIS2_W, CROQUIS2_H)
        with Locations((-65, 39.36)):
            Rectangle(CROQUIS2_W, CROQUIS2_H)
    extrude(amount=-CORTAR_EXTRUIR1_DEPTH, mode=Mode.SUBTRACT)

    # Croquis3 → Cortar-Extruir2 (cut)
    with BuildSketch(Plane(origin=(0, 1.5, 0), x_dir=(1, 0, 0), z_dir=(0, 1, 0))):
        with Locations(Location((-60.888852319, -11.348115731, 0), (0, 0, 270))):
            Circle(CROQUIS3_R)
        with Locations(Location((-12.628852319, -12.618115731, 0), (0, 0, 270))):
            Circle(CROQUIS3_R)
        with Locations(Location((-45.648852319, 39.451884269, 0), (0, 0, 270))):
            Circle(CROQUIS3_R)
        with Locations(Location((-17.708852319, 39.451884269, 0), (0, 0, 270))):
            Circle(CROQUIS3_R_2)
    extrude(amount=-CORTAR_EXTRUIR2_DEPTH, mode=Mode.SUBTRACT)


solid = part.part
